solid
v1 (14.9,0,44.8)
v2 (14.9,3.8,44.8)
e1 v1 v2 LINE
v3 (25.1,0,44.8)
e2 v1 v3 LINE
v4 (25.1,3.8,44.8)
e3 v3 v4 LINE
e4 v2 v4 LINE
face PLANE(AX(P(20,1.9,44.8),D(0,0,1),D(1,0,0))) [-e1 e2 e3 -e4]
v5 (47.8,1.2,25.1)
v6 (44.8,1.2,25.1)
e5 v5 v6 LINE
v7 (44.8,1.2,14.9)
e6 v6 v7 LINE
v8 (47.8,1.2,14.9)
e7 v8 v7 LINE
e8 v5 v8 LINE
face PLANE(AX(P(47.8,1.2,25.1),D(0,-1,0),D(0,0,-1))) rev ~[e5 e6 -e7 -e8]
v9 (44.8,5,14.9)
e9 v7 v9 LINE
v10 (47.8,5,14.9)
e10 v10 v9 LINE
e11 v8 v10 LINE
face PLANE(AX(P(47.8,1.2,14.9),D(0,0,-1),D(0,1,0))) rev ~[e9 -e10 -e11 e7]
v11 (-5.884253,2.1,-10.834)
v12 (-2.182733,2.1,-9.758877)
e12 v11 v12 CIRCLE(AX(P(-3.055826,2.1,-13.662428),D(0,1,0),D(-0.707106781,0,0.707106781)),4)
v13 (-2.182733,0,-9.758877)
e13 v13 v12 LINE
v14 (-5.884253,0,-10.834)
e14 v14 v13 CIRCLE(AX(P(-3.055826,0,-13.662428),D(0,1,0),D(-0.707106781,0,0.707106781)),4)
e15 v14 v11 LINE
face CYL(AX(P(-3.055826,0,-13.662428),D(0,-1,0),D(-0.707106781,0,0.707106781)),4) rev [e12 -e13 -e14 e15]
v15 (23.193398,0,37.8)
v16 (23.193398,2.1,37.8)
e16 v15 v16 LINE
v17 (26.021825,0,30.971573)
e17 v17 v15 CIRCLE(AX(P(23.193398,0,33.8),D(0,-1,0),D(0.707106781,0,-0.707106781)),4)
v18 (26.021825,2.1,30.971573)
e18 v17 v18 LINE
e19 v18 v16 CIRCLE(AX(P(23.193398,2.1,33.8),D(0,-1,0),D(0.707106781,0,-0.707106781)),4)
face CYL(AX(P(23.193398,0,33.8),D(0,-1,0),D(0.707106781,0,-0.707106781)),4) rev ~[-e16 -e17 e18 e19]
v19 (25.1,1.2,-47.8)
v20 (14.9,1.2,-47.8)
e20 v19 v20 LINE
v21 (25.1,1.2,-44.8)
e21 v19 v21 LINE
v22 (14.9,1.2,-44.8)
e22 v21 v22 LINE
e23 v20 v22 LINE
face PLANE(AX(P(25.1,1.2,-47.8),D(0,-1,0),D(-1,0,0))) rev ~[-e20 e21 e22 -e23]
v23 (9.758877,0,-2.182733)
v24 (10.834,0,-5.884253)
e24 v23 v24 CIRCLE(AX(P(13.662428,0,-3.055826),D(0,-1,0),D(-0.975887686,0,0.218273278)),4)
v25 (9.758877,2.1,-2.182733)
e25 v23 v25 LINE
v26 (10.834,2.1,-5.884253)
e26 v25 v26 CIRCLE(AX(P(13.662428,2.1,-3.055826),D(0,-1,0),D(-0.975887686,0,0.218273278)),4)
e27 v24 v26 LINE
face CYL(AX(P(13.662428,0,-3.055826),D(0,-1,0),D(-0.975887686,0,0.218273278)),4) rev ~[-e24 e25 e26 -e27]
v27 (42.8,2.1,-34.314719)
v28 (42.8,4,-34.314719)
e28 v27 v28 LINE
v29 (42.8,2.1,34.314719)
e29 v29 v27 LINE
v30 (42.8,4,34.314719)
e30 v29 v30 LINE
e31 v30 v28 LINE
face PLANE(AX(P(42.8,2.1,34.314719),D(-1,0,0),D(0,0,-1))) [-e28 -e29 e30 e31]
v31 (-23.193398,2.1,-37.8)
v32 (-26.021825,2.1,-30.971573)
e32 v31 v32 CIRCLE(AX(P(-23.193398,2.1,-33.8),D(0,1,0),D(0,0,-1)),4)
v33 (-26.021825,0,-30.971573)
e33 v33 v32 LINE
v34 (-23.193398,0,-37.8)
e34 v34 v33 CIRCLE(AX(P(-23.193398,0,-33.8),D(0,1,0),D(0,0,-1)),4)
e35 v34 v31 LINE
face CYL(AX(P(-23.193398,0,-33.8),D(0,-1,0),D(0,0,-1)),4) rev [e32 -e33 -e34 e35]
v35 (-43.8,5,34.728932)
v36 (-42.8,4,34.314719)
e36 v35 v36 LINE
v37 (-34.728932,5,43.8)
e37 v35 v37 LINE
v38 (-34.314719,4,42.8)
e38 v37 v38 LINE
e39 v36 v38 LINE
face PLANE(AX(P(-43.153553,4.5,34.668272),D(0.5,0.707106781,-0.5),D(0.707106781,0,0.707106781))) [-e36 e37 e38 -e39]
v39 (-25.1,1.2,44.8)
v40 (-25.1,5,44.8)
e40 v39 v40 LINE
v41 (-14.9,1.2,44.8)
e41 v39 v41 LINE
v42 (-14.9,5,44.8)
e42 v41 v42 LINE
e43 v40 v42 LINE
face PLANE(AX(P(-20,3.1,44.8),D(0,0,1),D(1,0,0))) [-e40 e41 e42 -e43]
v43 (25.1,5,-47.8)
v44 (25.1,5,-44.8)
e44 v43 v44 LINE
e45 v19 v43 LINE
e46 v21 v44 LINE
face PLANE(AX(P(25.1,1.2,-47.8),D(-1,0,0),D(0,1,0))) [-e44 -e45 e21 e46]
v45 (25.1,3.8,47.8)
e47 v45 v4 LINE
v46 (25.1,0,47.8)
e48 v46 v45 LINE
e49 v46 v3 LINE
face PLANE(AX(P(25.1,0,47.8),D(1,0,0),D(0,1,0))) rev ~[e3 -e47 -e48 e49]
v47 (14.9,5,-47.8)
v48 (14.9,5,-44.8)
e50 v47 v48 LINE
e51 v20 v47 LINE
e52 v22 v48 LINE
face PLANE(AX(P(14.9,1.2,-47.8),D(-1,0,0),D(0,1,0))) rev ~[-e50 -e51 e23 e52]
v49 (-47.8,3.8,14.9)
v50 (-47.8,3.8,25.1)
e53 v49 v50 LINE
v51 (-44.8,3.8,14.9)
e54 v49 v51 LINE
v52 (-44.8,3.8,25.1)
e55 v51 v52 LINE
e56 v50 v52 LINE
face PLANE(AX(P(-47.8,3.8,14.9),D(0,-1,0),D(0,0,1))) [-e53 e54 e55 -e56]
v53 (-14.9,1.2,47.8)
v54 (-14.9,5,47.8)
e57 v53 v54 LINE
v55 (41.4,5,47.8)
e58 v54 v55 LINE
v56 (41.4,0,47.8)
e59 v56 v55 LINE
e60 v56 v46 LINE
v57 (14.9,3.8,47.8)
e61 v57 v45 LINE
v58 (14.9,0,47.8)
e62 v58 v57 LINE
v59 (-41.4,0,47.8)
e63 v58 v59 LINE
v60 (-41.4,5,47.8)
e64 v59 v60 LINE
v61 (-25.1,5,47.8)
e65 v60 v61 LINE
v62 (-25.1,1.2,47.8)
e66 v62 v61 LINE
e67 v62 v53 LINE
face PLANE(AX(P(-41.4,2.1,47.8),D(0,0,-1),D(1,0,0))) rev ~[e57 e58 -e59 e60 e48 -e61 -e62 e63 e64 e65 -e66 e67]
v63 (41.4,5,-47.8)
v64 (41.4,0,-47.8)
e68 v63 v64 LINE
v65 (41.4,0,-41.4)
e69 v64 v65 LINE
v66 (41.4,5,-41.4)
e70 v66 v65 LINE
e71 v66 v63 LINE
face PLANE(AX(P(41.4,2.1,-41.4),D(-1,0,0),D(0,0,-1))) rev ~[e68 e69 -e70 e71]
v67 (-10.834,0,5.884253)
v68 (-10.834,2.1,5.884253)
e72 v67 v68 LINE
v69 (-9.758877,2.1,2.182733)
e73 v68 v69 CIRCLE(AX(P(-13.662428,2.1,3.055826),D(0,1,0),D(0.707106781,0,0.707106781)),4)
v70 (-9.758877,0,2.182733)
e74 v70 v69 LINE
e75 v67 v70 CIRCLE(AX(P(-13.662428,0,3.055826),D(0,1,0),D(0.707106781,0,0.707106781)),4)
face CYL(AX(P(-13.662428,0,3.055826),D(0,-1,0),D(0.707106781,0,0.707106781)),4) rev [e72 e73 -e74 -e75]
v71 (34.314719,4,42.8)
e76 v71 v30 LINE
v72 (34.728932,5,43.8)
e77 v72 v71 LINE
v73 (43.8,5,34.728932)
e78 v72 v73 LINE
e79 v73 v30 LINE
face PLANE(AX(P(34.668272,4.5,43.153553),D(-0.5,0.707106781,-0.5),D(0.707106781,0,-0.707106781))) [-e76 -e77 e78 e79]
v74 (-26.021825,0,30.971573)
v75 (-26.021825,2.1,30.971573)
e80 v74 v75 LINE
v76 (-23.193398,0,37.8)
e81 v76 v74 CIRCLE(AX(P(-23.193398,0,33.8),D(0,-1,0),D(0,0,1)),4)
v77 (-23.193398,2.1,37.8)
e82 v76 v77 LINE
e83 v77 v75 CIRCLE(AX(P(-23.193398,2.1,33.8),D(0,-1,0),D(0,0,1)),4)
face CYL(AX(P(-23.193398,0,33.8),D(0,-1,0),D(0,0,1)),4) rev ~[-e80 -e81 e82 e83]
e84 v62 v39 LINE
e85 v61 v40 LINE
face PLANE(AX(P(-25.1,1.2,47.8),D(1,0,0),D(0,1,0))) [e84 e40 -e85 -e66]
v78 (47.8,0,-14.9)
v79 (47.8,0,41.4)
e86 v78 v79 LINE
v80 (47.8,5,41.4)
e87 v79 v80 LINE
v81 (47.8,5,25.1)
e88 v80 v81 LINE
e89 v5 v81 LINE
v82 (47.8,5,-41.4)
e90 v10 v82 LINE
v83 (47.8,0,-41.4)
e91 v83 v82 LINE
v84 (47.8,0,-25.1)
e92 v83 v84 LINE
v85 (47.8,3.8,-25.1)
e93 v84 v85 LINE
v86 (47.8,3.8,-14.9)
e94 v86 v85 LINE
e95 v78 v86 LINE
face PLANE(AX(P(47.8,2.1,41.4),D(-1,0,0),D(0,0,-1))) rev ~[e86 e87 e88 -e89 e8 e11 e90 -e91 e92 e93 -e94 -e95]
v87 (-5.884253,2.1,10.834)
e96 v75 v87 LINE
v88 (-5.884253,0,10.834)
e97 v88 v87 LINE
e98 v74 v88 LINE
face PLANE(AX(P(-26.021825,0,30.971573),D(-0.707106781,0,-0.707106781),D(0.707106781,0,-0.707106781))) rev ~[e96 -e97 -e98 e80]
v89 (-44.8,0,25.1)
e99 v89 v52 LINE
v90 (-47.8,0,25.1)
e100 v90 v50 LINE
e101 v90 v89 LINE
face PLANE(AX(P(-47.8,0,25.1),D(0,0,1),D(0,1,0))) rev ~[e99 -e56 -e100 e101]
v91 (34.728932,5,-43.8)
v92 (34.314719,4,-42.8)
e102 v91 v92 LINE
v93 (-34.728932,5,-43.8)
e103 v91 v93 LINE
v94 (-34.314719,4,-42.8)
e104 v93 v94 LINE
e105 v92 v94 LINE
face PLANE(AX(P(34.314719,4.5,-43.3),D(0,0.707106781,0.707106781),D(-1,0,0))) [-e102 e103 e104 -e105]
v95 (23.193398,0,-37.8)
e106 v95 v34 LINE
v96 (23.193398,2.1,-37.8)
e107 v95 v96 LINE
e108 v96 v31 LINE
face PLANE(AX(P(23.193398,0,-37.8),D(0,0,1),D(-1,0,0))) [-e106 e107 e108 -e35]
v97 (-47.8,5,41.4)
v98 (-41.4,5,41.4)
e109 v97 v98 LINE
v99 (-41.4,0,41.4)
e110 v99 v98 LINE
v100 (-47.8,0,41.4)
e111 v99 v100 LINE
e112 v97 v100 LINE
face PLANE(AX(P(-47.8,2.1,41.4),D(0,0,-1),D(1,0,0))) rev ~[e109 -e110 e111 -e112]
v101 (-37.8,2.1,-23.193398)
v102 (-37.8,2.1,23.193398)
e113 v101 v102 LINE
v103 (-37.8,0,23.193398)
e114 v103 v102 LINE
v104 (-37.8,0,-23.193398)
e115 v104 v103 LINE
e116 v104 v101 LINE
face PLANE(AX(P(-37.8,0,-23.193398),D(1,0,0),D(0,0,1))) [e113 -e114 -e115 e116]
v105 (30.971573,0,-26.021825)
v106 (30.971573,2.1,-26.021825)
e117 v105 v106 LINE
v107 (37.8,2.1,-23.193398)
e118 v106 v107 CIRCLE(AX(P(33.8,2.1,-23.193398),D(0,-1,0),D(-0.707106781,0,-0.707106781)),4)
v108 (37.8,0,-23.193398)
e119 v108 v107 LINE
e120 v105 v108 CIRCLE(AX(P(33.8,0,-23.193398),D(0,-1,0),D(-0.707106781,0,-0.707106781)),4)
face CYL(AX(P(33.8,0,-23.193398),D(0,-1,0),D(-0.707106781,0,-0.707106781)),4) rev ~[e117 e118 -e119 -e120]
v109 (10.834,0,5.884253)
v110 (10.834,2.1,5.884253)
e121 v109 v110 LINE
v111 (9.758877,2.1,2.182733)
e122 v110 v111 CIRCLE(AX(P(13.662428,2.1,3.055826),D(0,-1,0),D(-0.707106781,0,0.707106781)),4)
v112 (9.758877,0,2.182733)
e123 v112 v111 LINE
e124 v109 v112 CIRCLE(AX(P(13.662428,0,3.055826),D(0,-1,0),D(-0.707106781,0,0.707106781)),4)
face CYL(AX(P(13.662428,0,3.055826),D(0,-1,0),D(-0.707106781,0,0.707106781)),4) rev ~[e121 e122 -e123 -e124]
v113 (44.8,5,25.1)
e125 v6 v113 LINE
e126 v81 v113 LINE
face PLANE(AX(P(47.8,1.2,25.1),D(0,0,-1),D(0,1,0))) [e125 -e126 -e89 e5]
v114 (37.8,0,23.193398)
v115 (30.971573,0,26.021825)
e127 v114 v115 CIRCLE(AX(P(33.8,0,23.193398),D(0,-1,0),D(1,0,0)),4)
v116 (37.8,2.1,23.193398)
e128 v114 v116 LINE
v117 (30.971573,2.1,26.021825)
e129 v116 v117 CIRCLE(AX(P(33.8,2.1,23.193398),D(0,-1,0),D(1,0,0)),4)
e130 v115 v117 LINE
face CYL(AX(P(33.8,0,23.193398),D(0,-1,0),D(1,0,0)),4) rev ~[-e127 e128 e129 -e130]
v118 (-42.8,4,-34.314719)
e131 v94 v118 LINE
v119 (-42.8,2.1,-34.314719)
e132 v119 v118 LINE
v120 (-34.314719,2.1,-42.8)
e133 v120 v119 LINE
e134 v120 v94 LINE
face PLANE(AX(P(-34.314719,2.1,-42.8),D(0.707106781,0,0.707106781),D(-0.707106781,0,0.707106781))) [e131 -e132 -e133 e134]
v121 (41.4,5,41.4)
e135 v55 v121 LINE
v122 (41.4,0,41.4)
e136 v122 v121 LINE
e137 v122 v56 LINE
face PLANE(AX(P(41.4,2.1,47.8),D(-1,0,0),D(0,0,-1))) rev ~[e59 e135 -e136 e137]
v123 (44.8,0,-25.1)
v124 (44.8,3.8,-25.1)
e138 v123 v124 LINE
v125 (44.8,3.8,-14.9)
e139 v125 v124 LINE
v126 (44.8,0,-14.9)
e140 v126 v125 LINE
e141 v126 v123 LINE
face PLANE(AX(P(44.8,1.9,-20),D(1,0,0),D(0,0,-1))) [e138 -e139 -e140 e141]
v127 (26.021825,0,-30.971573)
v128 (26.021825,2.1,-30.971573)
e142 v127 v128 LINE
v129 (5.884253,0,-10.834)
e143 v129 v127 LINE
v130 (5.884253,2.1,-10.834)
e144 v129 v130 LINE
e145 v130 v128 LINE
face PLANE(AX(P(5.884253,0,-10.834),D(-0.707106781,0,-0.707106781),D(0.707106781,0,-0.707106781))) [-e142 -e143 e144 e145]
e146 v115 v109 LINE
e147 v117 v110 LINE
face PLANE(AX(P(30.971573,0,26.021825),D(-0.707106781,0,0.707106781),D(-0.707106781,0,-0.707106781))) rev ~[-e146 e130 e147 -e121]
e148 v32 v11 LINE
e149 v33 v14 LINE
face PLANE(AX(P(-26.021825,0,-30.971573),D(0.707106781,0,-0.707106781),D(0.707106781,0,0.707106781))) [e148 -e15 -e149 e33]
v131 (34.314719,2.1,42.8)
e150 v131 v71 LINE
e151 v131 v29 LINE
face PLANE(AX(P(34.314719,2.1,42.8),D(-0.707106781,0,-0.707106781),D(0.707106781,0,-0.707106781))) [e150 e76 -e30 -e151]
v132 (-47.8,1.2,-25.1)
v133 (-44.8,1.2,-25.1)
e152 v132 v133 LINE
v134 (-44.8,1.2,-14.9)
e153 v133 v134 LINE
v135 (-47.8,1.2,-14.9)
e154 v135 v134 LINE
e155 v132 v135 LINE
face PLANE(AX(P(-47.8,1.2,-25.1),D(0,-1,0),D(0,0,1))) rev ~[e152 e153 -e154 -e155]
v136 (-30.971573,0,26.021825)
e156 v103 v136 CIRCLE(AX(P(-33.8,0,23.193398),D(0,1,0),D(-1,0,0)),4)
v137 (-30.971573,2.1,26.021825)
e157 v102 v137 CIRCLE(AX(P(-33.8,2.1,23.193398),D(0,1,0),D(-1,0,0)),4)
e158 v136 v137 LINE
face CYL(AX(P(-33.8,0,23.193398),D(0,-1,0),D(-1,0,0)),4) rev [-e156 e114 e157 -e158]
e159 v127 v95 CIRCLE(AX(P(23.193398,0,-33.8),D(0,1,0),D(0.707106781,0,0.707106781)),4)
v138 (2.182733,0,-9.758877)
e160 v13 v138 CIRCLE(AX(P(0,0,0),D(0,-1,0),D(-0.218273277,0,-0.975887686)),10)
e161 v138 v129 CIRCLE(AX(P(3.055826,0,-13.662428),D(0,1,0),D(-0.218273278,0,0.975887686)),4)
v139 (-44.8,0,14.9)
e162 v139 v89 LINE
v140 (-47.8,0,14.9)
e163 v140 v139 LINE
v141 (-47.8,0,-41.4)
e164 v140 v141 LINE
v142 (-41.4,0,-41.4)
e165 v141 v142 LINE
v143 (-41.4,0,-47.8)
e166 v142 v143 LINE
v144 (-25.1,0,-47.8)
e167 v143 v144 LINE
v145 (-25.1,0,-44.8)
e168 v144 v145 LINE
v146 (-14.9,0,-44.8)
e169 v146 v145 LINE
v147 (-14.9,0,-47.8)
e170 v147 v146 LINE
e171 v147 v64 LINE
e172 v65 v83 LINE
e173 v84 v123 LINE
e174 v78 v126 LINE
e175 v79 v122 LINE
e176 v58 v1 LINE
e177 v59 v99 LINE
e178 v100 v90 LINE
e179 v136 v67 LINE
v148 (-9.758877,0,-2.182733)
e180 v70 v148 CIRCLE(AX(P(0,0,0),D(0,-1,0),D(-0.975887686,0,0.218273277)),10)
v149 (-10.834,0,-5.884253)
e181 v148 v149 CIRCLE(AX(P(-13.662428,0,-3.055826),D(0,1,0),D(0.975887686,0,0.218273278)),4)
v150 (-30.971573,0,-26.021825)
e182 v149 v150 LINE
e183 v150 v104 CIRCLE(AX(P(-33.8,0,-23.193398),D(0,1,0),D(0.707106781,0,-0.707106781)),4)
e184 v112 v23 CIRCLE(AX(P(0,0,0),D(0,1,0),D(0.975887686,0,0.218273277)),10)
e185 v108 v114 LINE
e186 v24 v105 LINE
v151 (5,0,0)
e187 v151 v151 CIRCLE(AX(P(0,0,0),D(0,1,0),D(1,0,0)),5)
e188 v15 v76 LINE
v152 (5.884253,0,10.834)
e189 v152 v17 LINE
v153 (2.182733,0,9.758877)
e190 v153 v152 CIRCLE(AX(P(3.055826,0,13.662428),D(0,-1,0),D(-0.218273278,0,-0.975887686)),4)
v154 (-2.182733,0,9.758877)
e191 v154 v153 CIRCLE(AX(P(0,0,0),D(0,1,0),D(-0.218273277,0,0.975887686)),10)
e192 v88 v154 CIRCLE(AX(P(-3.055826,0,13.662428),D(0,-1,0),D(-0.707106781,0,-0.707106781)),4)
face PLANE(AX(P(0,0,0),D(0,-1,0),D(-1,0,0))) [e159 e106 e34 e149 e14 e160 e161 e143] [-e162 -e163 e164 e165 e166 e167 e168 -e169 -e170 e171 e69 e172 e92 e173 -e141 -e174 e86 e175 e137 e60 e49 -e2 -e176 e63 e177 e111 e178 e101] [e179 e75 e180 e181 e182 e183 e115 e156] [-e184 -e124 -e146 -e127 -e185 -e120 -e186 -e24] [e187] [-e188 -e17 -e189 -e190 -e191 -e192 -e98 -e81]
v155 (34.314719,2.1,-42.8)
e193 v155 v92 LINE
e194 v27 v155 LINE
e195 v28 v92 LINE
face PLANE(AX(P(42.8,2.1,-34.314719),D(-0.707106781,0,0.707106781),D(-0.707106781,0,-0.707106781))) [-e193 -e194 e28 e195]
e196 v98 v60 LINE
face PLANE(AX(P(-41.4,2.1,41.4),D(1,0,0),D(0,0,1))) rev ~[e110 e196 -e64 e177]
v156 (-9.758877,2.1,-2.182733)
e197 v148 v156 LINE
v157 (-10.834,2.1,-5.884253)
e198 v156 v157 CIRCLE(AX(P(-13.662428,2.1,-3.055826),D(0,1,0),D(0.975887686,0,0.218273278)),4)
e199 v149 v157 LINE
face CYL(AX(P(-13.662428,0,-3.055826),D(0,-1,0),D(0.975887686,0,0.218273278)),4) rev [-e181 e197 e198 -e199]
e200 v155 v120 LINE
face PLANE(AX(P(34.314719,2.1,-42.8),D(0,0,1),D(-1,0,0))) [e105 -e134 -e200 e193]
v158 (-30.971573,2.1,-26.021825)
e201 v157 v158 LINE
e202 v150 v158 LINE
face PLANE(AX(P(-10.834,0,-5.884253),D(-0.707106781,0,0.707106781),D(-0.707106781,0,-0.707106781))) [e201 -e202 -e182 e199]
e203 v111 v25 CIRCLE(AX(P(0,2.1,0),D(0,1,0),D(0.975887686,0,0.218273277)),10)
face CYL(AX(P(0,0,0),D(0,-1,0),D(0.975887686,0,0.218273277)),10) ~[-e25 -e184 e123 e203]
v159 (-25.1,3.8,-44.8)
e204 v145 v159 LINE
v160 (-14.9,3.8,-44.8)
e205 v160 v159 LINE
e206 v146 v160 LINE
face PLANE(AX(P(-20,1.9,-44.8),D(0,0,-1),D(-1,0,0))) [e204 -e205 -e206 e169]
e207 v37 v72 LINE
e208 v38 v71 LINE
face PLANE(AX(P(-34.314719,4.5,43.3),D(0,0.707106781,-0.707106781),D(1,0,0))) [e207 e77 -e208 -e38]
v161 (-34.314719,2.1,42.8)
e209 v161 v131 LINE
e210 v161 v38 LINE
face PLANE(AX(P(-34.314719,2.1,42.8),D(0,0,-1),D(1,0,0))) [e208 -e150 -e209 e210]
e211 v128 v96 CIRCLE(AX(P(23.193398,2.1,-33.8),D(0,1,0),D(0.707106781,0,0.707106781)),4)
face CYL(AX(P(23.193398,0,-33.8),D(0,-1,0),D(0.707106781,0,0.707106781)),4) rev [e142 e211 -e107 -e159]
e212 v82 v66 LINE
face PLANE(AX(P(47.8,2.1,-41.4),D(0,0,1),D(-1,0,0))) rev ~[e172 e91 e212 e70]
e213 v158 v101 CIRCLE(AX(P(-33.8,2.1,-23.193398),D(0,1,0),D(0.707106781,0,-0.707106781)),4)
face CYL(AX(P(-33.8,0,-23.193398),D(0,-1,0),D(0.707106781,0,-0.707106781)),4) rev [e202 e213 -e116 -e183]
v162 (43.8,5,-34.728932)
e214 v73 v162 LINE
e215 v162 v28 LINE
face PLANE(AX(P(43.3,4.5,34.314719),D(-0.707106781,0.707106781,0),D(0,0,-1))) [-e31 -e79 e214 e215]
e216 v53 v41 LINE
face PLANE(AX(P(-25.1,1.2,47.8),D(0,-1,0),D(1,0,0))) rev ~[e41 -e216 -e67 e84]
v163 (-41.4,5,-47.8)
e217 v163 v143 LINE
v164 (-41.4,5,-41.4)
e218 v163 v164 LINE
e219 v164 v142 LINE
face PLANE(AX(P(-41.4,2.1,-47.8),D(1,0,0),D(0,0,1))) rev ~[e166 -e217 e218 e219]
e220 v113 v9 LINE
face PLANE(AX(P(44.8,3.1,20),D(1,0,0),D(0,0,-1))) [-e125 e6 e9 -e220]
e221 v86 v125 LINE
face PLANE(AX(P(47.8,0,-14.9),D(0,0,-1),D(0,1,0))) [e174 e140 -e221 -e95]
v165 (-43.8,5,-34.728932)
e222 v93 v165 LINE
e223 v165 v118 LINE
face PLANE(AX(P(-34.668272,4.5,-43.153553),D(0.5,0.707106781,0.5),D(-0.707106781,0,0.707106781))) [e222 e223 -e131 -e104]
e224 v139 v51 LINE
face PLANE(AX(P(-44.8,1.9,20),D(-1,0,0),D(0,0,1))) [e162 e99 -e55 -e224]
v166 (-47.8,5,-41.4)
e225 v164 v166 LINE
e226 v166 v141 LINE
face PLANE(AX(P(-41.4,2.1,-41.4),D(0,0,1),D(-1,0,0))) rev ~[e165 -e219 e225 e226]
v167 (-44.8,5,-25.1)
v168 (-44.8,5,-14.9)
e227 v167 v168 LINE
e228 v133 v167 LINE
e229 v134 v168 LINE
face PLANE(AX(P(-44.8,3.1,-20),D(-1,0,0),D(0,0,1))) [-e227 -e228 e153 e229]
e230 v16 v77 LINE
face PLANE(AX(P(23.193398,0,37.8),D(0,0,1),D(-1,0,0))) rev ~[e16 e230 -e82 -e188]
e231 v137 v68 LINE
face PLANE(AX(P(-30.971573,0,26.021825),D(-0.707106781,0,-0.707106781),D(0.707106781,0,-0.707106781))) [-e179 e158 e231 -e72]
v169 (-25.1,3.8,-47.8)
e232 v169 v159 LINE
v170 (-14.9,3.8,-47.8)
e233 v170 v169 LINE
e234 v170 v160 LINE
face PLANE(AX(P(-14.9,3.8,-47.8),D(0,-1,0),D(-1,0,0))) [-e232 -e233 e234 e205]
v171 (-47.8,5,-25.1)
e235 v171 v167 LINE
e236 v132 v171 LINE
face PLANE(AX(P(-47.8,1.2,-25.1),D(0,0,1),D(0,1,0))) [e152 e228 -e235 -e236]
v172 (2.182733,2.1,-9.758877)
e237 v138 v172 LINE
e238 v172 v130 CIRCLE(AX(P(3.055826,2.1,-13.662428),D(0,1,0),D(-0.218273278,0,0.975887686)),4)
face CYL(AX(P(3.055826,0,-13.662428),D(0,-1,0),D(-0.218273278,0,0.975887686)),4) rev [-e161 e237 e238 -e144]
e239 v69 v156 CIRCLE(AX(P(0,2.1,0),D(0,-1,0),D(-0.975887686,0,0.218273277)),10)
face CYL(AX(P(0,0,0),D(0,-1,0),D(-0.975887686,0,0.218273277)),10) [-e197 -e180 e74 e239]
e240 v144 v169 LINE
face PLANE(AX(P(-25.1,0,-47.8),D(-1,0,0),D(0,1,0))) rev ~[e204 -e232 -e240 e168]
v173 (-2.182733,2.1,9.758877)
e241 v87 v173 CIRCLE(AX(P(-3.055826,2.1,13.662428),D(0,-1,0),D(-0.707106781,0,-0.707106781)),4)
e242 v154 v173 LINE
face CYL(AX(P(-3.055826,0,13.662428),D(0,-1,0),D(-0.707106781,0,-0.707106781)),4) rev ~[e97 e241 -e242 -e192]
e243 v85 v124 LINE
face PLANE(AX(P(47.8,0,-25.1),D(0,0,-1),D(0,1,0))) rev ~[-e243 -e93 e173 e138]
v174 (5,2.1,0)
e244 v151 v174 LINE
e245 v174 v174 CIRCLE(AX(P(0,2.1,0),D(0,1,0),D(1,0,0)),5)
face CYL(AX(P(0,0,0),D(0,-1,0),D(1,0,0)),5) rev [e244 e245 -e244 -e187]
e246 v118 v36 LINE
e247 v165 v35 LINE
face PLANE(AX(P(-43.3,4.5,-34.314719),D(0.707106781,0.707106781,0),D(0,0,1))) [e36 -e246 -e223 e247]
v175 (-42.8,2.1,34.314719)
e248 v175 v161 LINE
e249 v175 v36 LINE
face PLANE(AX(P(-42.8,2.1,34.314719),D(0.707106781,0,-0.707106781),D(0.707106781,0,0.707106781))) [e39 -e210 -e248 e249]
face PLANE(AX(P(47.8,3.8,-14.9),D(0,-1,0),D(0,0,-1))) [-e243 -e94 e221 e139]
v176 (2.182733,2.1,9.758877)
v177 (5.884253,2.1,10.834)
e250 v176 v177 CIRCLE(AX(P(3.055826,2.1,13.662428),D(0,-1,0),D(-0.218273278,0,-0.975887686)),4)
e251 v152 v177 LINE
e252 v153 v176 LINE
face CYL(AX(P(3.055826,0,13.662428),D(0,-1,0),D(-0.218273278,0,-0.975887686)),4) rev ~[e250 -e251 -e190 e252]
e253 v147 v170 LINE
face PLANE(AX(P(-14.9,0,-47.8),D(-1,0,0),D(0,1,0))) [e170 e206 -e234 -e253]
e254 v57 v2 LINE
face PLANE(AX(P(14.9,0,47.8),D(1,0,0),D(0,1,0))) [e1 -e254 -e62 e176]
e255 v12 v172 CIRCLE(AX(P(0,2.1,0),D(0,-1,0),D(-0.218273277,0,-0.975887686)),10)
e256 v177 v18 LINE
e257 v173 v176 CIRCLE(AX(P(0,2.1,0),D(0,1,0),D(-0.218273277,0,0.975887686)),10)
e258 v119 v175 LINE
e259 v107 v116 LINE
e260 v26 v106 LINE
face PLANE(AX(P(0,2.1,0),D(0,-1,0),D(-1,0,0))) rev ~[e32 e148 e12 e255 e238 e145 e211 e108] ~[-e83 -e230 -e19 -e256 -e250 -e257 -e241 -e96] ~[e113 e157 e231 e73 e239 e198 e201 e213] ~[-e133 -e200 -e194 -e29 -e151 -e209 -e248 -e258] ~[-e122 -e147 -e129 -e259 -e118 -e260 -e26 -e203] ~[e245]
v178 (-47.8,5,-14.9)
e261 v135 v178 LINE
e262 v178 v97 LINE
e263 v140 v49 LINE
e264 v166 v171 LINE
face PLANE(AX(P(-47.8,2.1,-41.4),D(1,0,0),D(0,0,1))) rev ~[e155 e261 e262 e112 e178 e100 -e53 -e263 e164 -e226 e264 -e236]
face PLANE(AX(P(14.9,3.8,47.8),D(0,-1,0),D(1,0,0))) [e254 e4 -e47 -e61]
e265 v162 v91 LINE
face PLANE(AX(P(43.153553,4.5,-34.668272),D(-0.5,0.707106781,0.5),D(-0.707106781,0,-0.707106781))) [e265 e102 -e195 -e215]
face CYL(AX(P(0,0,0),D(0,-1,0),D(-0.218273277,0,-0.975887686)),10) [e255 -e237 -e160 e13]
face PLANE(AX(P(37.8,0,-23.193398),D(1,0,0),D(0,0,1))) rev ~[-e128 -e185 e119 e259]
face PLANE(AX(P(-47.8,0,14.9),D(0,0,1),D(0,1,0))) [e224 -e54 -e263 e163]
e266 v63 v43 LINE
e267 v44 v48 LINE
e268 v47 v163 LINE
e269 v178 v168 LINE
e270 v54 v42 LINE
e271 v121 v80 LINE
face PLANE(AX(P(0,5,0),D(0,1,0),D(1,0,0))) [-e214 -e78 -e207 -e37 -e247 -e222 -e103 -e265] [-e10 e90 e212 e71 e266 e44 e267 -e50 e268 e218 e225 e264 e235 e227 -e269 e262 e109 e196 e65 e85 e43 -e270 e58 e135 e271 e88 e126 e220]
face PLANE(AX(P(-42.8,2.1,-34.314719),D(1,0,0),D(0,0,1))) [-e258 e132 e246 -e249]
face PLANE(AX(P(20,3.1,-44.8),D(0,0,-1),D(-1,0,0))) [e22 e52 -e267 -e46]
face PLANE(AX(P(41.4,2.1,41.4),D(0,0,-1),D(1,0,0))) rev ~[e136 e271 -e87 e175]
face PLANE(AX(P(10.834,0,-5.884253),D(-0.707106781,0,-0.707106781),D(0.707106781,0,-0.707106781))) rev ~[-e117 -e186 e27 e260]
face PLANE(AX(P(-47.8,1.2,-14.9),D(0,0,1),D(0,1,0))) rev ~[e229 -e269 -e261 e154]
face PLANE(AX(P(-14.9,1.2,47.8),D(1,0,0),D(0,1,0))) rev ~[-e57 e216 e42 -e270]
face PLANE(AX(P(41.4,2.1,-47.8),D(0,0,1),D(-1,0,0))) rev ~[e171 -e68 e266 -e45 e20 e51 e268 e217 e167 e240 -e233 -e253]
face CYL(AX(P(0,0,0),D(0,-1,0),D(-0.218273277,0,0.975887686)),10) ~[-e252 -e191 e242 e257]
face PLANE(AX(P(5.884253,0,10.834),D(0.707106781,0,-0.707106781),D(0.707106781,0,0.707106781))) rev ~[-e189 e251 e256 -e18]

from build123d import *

# Parameters (mm, degrees)
SKETCH1_R           = 5
BOSS_EXTRUDE1_DEPTH = 2.1
BOSS_EXTRUDE2_DEPTH = 2.9
SKETCH3_W           = 10.2
SKETCH3_H           = 3.8
CUT_EXTRUDE1_DEPTH  = 3
CIRPATTERN1_COUNT   = 4
CHAMFER1_SIZE       = 1


with BuildPart() as part:
    # Sketch1 → Boss-Extrude1 (new body)
    with BuildSketch(Plane(origin=(0, 0, 0), x_dir=(1, 0, 0), z_dir=(0, 1, 0))):
        Polygon((-47.8, -41.4), (-47.8, 41.4), (-41.4, 41.4), (-41.4, 47.8), (41.4, 47.8), (41.4, 41.4), (47.8, 41.4), (47.8, -41.4), (41.4, -41.4), (41.4, -47.8), (-41.4, -47.8), (-41.4, -41.4), align=None)
        Circle(SKETCH1_R, mode=Mode.SUBTRACT)
        with BuildLine():
            Line((-30.971572875, -26.021825407), (-10.834000483, -5.884253014))
            ThreePointArc((-10.834000483, -5.884253014), (-9.821178524, -4.171534398), (-9.758876863, -2.182732778))
            ThreePointArc((-9.758876863, -2.182732778), (-10, 0), (-9.758876863, 2.182732778))
            ThreePointArc((-9.758876863, 2.182732778), (-9.821178524, 4.171534398), (-10.834000483, 5.884253014))
            Line((-10.834000483, 5.884253014), (-30.971572875, 26.021825407))
            ThreePointArc((-30.971572875, 26.021825407), (-35.330733729, 26.888916412), (-37.8, 23.193398282))
            Line((-37.8, 23.193398282), (-37.8, -23.193398282))
            ThreePointArc((-37.8, -23.193398282), (-35.330733729, -26.888916412), (-30.971572875, -26.021825407))
        make_face(mode=Mode.SUBTRACT)
        with BuildLine():
            Line((-26.021825407, -30.971572875), (-5.884253014, -10.834000483))
            ThreePointArc((-5.884253014, -10.834000483), (-4.171534398, -9.821178524), (-2.182732778, -9.758876863))
            ThreePointArc((-2.182732778, -9.758876863), (0, -10), (2.182732778, -9.758876863))
            ThreePointArc((2.182732778, -9.758876863), (4.171534398, -9.821178524), (5.884253014, -10.834000483))
            Line((5.884253014, -10.834000483), (26.021825407, -30.971572875))
            ThreePointArc((26.021825407, -30.971572875), (26.888916412, -35.330733729), (23.193398282, -37.8))
            Line((23.193398282, -37.8), (-23.193398282, -37.8))
            ThreePointArc((-23.193398282, -37.8), (-26.888916412, -35.330733729), (-26.021825407, -30.971572875))
        make_face(mode=Mode.SUBTRACT)
        with BuildLine():
            Line((30.971572875, -26.021825407), (10.834000483, -5.884253014))
            ThreePointArc((10.834000483, -5.884253014), (9.821178524, -4.171534398), (9.758876863, -2.182732778))
            ThreePointArc((9.758876863, -2.182732778), (10, 0), (9.758876863, 2.182732778))
            ThreePointArc((9.758876863, 2.182732778), (9.821178524, 4.171534398), (10.834000483, 5.884253014))
            Line((10.834000483, 5.884253014), (30.971572875, 26.021825407))
            ThreePointArc((30.971572875, 26.021825407), (35.330733729, 26.888916412), (37.8, 23.193398282))
            Line((37.8, 23.193398282), (37.8, -23.193398282))
            ThreePointArc((37.8, -23.193398282), (35.330733729, -26.888916412), (30.971572875, -26.021825407))
        make_face(mode=Mode.SUBTRACT)
        with BuildLine():
            Line((-26.021825407, 30.971572875), (-5.884253014, 10.834000483))
            ThreePointArc((-5.884253014, 10.834000483), (-4.171534398, 9.821178524), (-2.182732778, 9.758876863))
            ThreePointArc((-2.182732778, 9.758876863), (0, 10), (2.182732778, 9.758876863))
            ThreePointArc((2.182732778, 9.758876863), (4.171534398, 9.821178524), (5.884253014, 10.834000483))
            Line((5.884253014, 10.834000483), (26.021825407, 30.971572875))
            ThreePointArc((26.021825407, 30.971572875), (26.888916412, 35.330733729), (23.193398282, 37.8))
            Line((23.193398282, 37.8), (-23.193398282, 37.8))
            ThreePointArc((-23.193398282, 37.8), (-26.888916412, 35.330733729), (-26.021825407, 30.971572875))
        make_face(mode=Mode.SUBTRACT)
    extrude(amount=BOSS_EXTRUDE1_DEPTH)

    # Sketch2 → Boss-Extrude2 (add)
    with BuildSketch(Plane(origin=(0, 2.1, 0), x_dir=(1, 0, 0), z_dir=(0, 1, 0))):
        Polygon((-47.8, -41.4), (-41.4, -41.4), (-41.4, -47.8), (41.4, -47.8), (41.4, -41.4), (47.8, -41.4), (47.8, 41.4), (41.4, 41.4), (41.4, 47.8), (-41.4, 47.8), (-41.4, 41.4), (-47.8, 41.4), align=None)
        Polygon((-42.8, 34.314718626), (-42.8, -34.314718626), (-34.314718626, -42.8), (34.314718626, -42.8), (42.8, -34.314718626), (42.8, 34.314718626), (34.314718626, 42.8), (-34.314718626, 42.8), align=None, mode=Mode.SUBTRACT)
    extrude(amount=BOSS_EXTRUDE2_DEPTH)

    # Sketch3 → Cut-Extrude1 (cut)
    with BuildSketch(Plane.ZY.offset(47.8)):
        with Locations((20, 1.9)):
            Rectangle(SKETCH3_W, SKETCH3_H)
        with Locations((-20, 3.1)):
            Rectangle(SKETCH3_W, SKETCH3_H)
    cut_extrude1 = extrude(amount=-CUT_EXTRUDE1_DEPTH, mode=Mode.SUBTRACT)

    # CirPattern1: Cut-Extrude1 ×4 about axis
    cirpattern1_axis = Axis((0, 0, 0), (0, 1, 0))
    for i in range(1, CIRPATTERN1_COUNT):
        add(cut_extrude1.rotate(cirpattern1_axis, i * 360 / CIRPATTERN1_COUNT), mode=Mode.SUBTRACT)

    # Chamfer1
    chamfer1_edges = [part.edges().sort_by_distance(p)[0] for p in [
        (-38.557359313, 5, -38.557359313),
        (-42.8, 5, 0),
        (-38.557359313, 5, 38.557359313),
        (0, 5, 42.8),
        (38.557359313, 5, 38.557359313),
        (42.8, 5, 0),
        (38.557359313, 5, -38.557359313),
        (0, 5, -42.8),
    ]]
    chamfer(chamfer1_edges, length=CHAMFER1_SIZE)


solid = part.part
